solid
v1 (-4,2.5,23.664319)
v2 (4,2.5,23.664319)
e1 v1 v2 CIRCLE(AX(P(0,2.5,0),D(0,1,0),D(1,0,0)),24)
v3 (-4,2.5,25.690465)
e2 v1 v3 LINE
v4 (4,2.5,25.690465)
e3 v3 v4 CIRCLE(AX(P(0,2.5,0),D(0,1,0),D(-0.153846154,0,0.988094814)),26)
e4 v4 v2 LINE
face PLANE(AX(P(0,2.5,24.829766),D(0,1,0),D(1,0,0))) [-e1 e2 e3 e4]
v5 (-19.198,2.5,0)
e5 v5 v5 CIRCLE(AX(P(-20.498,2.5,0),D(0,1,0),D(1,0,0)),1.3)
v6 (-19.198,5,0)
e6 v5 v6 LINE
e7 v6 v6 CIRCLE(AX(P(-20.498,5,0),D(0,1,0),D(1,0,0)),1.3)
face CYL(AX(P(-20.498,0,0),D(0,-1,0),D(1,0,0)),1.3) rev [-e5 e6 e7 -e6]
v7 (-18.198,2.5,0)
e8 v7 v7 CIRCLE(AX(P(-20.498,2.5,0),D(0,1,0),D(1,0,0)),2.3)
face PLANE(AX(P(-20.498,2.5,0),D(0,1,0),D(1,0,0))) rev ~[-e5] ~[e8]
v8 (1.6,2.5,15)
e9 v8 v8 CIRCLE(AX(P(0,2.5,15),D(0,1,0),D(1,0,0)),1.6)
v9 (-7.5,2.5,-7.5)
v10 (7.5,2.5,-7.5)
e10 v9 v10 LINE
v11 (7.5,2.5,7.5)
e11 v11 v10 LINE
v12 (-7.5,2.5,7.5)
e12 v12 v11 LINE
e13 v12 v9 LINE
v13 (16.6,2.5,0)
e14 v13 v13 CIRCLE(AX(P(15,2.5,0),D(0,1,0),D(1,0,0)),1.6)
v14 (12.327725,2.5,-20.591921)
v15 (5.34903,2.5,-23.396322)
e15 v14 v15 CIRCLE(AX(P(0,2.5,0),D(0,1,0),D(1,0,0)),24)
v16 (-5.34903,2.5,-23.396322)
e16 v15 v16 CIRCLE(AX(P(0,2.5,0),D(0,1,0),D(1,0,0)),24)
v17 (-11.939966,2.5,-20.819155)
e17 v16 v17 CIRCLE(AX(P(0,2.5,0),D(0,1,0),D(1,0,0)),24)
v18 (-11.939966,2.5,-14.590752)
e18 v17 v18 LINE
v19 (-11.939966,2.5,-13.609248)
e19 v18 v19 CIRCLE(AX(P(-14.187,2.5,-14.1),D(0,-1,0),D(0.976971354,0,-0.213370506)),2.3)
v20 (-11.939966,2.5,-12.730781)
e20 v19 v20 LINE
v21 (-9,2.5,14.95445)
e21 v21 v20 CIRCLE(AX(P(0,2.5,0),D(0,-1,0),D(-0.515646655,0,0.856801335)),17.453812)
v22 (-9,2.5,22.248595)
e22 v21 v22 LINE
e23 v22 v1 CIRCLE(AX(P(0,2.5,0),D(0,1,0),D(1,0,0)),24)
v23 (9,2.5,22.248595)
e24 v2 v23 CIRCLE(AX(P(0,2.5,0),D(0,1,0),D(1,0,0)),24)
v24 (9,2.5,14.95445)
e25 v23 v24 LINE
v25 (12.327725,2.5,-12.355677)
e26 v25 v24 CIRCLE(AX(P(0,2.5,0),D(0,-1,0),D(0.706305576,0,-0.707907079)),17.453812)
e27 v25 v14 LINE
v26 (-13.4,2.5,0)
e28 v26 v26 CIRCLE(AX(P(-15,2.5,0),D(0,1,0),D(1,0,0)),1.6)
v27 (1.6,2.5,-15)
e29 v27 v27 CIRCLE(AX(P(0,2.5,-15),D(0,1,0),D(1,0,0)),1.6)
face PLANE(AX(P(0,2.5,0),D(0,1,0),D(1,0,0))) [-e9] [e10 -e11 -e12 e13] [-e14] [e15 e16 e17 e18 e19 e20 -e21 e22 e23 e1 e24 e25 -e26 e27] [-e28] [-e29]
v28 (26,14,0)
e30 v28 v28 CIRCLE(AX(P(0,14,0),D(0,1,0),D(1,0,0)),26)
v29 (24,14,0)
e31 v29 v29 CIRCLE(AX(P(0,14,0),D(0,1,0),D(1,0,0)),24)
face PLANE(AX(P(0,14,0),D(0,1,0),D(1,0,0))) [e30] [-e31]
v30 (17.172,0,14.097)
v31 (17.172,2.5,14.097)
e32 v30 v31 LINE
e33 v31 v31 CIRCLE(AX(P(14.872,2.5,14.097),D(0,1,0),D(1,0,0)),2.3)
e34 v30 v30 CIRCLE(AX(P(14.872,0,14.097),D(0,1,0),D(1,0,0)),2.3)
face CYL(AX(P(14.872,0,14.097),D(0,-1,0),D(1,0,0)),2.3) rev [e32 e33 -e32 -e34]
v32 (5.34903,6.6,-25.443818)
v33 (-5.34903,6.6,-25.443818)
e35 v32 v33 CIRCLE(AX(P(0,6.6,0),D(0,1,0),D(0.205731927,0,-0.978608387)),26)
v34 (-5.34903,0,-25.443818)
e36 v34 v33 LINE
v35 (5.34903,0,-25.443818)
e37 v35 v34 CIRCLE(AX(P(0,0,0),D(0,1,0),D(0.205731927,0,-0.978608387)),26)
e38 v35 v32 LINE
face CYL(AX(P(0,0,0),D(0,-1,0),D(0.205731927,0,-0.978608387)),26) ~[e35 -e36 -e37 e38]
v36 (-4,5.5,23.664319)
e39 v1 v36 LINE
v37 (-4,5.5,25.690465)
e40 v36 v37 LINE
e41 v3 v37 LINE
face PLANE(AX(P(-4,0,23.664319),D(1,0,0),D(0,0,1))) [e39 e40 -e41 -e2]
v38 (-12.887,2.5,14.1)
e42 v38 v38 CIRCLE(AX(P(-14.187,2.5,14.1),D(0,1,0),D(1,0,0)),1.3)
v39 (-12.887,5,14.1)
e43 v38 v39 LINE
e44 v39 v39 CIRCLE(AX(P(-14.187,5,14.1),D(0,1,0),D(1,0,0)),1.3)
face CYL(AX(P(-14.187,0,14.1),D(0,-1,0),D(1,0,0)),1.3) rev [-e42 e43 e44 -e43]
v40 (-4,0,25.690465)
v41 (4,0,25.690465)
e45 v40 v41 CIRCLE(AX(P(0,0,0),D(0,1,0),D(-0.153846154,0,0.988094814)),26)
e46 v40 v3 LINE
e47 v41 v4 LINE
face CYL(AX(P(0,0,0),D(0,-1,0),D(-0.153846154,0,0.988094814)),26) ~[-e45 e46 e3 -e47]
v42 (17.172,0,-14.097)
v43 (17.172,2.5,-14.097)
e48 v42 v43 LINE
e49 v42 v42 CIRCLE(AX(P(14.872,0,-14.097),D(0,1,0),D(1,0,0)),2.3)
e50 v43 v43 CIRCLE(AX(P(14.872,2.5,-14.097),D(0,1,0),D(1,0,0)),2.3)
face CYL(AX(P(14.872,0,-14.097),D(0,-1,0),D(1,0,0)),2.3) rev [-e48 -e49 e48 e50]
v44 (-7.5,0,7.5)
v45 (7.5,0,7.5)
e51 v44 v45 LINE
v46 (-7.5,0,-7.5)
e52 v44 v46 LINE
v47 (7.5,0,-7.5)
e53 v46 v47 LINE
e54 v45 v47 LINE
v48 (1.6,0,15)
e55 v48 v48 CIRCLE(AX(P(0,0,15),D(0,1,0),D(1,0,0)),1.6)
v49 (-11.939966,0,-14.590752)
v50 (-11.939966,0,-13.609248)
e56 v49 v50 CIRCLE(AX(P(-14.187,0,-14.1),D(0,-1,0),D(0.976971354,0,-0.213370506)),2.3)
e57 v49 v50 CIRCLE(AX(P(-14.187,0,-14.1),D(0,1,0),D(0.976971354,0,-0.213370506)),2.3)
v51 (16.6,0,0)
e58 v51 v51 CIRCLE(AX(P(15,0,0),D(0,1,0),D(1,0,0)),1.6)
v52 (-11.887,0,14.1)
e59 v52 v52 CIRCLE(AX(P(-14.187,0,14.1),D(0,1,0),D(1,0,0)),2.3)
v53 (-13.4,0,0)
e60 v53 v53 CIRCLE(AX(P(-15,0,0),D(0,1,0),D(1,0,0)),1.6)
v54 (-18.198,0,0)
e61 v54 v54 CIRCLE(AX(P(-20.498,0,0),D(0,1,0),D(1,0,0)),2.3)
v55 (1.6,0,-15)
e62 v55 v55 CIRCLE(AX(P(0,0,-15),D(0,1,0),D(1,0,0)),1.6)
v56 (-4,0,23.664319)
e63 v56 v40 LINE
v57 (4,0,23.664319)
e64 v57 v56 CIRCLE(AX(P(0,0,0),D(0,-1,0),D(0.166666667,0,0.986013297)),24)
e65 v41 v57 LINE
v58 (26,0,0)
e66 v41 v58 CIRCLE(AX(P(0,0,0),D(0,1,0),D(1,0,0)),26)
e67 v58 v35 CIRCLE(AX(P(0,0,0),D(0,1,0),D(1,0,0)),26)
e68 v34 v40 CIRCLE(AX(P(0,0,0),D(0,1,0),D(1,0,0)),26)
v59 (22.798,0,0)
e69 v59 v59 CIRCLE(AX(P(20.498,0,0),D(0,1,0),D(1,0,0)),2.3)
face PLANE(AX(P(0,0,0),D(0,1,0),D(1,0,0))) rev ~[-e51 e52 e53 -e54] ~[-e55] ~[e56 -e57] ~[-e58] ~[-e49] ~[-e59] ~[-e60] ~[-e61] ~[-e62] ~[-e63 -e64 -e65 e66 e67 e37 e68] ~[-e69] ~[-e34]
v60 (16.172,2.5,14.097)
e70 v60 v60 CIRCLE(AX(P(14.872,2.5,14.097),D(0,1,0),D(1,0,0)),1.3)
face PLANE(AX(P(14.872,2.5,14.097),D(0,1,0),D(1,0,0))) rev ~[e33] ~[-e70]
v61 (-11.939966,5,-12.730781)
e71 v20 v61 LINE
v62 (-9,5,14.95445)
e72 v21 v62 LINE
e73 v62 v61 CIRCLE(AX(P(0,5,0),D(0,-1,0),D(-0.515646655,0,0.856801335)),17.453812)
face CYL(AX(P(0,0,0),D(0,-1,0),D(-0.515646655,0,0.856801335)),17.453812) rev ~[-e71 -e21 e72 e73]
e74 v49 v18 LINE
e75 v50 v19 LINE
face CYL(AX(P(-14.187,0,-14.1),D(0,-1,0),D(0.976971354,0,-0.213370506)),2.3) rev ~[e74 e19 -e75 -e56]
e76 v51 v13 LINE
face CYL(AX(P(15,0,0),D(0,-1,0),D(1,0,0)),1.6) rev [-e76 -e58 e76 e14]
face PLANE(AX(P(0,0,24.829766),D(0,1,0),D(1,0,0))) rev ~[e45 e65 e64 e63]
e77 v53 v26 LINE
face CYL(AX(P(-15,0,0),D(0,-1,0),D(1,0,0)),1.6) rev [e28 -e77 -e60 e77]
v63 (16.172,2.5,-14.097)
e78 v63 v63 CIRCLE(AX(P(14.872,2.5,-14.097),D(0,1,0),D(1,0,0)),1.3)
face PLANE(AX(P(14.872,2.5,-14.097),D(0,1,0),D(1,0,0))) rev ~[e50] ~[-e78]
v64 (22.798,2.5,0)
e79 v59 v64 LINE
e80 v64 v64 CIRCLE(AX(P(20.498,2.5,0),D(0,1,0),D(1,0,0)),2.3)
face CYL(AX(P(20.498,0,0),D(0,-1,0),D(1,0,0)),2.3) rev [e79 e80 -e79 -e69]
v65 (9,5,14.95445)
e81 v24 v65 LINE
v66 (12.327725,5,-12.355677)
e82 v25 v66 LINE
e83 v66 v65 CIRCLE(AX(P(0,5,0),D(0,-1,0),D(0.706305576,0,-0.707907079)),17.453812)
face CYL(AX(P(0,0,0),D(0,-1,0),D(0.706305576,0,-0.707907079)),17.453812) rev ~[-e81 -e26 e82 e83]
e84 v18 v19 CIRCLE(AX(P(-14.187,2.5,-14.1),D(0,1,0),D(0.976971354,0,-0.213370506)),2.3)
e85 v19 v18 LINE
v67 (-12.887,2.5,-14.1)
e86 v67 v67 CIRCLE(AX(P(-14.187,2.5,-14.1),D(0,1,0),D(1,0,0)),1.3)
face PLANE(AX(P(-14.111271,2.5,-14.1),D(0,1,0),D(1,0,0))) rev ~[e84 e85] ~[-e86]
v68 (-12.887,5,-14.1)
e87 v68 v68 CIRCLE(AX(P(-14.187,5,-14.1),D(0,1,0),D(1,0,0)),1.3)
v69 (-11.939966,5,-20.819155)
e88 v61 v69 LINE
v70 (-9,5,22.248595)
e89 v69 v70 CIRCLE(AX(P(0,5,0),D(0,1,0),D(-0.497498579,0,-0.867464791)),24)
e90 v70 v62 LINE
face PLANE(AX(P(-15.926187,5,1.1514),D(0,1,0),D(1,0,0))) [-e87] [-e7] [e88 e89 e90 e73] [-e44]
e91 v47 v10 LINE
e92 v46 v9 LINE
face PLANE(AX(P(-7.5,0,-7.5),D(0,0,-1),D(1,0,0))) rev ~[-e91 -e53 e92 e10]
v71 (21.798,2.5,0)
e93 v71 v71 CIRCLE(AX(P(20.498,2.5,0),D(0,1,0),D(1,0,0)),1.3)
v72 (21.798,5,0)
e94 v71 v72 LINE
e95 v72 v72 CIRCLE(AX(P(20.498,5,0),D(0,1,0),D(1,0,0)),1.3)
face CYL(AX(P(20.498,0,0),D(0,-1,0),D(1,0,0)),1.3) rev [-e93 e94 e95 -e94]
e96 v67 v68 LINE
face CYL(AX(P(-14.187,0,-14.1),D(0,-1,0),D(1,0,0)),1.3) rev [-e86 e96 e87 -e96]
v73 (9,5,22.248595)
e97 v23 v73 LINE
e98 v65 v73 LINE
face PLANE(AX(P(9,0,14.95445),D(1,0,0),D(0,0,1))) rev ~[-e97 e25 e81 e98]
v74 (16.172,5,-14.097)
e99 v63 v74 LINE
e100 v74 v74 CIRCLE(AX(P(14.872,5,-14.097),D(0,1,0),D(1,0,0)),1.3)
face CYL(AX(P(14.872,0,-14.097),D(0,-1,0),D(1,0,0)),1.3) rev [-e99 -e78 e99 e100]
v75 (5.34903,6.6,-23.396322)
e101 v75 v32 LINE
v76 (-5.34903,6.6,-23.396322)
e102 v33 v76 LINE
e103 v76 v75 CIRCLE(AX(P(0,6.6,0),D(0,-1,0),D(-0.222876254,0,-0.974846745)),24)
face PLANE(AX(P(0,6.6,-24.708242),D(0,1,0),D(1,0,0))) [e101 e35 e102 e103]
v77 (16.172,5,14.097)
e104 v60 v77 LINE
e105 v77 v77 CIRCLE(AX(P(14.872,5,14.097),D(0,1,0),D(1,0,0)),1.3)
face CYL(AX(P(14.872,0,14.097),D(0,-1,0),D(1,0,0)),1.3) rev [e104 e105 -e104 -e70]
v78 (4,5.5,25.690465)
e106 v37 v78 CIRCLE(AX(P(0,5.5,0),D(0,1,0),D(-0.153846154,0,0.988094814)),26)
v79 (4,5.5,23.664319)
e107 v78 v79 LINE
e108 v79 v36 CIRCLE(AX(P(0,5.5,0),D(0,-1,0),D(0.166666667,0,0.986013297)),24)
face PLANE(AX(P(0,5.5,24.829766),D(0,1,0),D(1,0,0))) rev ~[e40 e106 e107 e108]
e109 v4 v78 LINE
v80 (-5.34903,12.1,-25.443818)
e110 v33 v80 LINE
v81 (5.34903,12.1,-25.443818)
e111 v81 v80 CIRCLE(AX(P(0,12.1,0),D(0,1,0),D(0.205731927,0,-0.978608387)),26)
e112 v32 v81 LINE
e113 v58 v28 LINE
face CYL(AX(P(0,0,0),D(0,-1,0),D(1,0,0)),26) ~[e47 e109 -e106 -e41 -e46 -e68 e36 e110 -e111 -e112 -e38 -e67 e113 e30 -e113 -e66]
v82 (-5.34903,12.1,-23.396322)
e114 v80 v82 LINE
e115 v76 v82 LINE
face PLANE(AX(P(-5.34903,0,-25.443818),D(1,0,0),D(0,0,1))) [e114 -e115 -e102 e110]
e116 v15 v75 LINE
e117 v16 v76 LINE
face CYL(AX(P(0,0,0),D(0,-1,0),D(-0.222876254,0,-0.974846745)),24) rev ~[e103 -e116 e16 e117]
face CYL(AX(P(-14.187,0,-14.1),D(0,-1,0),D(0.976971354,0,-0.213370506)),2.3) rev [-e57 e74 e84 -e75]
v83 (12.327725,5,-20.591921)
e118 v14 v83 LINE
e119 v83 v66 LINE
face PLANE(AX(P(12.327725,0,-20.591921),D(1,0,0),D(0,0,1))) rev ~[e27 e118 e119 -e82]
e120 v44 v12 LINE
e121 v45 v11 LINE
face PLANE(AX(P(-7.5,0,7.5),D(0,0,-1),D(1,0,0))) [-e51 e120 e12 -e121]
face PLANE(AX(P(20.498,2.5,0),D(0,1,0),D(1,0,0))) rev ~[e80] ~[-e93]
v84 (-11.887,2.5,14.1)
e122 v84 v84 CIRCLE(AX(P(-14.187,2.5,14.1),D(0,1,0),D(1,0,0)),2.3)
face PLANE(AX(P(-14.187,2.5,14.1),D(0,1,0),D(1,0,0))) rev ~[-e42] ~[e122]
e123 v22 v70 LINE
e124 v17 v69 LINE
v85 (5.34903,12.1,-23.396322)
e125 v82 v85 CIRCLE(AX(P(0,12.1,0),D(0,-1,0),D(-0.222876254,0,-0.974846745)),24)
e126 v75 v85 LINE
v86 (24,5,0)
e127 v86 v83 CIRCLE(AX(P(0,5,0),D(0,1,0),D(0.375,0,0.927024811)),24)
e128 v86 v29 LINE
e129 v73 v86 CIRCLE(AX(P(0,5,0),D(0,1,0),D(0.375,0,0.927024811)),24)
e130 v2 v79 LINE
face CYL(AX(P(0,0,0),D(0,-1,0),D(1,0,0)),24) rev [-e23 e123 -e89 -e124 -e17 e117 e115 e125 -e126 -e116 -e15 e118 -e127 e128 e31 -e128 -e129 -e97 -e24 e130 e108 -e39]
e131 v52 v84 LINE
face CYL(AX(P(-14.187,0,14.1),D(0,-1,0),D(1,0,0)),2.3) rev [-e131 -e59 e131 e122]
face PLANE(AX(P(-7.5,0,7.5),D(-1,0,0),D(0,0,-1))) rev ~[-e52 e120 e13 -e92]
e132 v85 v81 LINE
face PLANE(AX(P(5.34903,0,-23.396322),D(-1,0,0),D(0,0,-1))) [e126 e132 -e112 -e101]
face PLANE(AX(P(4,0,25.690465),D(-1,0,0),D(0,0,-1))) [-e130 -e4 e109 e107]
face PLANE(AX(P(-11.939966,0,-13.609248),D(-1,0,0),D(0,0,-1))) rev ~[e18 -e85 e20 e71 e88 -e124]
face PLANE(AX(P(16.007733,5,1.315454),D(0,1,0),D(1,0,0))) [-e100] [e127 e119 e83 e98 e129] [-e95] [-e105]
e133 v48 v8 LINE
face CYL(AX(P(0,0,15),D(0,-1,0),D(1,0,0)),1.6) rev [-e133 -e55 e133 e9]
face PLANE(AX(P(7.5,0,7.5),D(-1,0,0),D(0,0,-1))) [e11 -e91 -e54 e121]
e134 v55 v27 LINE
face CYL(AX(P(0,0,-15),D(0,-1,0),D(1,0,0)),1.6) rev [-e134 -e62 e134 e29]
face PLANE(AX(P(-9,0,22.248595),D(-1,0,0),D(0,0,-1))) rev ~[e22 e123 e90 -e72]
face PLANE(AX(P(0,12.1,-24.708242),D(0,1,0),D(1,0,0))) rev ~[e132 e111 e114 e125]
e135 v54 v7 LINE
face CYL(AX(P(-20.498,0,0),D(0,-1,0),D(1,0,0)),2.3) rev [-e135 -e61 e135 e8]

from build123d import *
from build123d.topology import SkipClean

# Parameters (mm, degrees)
SKETCH_1_R          = 24
SKETCH_1_R_2        = 1.6
SKETCH_1_W          = 15
SKETCH_1_H          = 15
SKETCH_1_R_3        = 1.3
EXTRUDE_1_DEPTH     = 2.5
SKETCH_1_4_R        = 26
SKETCH_1_4_R_2      = 24
EXTRUDE_2_DEPTH     = 14
SKETCH_1_6_R        = 1.3
EXTRUDE_4_DEPTH     = 5
CUT_EXTRUDE_1_DEPTH = 12.1
EXTRUDE_5_DEPTH     = 6.6
SKETCH_1_11_R       = 1.3
SKETCH_1_11_R_2     = 2.3
CUT_EXTRUDE_2_DEPTH = 2.5
CUT_EXTRUDE_5_DEPTH = 5.5
EXTRUDE_6_DEPTH     = 2.5


with BuildPart() as part:
    # 草图1 → 凸台-拉伸1 (new body)
    with BuildSketch(Plane(origin=(0, 0, 0), x_dir=(1, 0, 0), z_dir=(0, 1, 0))):
        Circle(SKETCH_1_R)
        with BuildLine():
            Line((-11.939965885, 13.609247836), (-11.939965885, 14.590752164))
            ThreePointArc((-11.939965885, 14.590752164), (-11.887, 14.1), (-11.939965885, 13.609247836))
        make_face(mode=Mode.SUBTRACT)
        with Locations((0, -15)):
            Circle(SKETCH_1_R_2, mode=Mode.SUBTRACT)
        with Locations((-15, 0)):
            Circle(SKETCH_1_R_2, mode=Mode.SUBTRACT)
        Rectangle(SKETCH_1_W, SKETCH_1_H, mode=Mode.SUBTRACT)
        with Locations((15, 0)):
            Circle(SKETCH_1_R_2, mode=Mode.SUBTRACT)
        with Locations((0, 15)):
            Circle(SKETCH_1_R_2, mode=Mode.SUBTRACT)
        with Locations((20.498, 0)):
            Circle(SKETCH_1_R_3, mode=Mode.SUBTRACT)
        with Locations((14.872, 14.097)):
            Circle(SKETCH_1_R_3, mode=Mode.SUBTRACT)
        with Locations((14.872, -14.097)):
            Circle(SKETCH_1_R_3, mode=Mode.SUBTRACT)
        with Locations((-14.187, -14.1)):
            Circle(SKETCH_1_R_3, mode=Mode.SUBTRACT)
        with Locations((-20.498, 0)):
            Circle(SKETCH_1_R_3, mode=Mode.SUBTRACT)
        with Locations((-14.187, 14.1)):
            Circle(SKETCH_1_R_3, mode=Mode.SUBTRACT)
    extrude(amount=EXTRUDE_1_DEPTH)

    # 草图1<4> → 凸台-拉伸2 (add)
    with BuildSketch(Plane(origin=(0, 0, 0), x_dir=(1, 0, 0), z_dir=(0, 1, 0))):
        Circle(SKETCH_1_4_R)
        Circle(SKETCH_1_4_R_2, mode=Mode.SUBTRACT)
    extrude(amount=EXTRUDE_2_DEPTH)

    # 草图1<6> → 凸台-拉伸4 (add)
    # profile 1 of 2: a face of its own
    with BuildSketch(Plane(origin=(0, 0, 0), x_dir=(1, 0, 0), z_dir=(0, 1, 0))):
        with BuildLine():
            Line((12.327725044, 20.59192063), (12.327725044, 12.355677376))
            ThreePointArc((12.327725044, 12.355677376), (17.325666659, -2.111123633), (9, -14.954449778))
            Line((9, -14.954449778), (9, -22.248595461))
            ThreePointArc((9, -22.248595461), (23.927921319, -1.858650415), (12.327725044, 20.59192063))
        make_face()
        with Locations((14.872, -14.097)):
            Circle(SKETCH_1_6_R, mode=Mode.SUBTRACT)
        with Locations((20.498, 0)):
            Circle(SKETCH_1_6_R, mode=Mode.SUBTRACT)
        with Locations((14.872, 14.097)):
            Circle(SKETCH_1_6_R, mode=Mode.SUBTRACT)
    # profile 2 of 2: a face of its own
    with BuildSketch(Plane(origin=(0, 0, 0), x_dir=(1, 0, 0), z_dir=(0, 1, 0))):
        with BuildLine():
            Line((-9, -22.248595461), (-9, -14.954449778))
            ThreePointArc((-9, -14.954449778), (-17.356224893, -1.843102181), (-11.939965885, 12.73078092))
            Line((-11.939965885, 12.73078092), (-11.939965885, 20.819154994))
            ThreePointArc((-11.939965885, 20.819154994), (-23.944275415, -1.634525883), (-9, -22.248595461))
        make_face()
        with Locations((-14.187, 14.1)):
            Circle(SKETCH_1_6_R, mode=Mode.SUBTRACT)
        with Locations((-14.187, -14.1)):
            Circle(SKETCH_1_6_R, mode=Mode.SUBTRACT)
        with Locations((-20.498, 0)):
            Circle(SKETCH_1_6_R, mode=Mode.SUBTRACT)
    extrude(amount=EXTRUDE_4_DEPTH)

    # 草图1<8> → 切除-拉伸1 (cut)
    with BuildSketch(Plane(origin=(0, 0, 0), x_dir=(1, 0, 0), z_dir=(0, 1, 0))):
        with BuildLine():
            ThreePointArc((-5.3490301, 23.396321869), (0, 24), (5.3490301, 23.396321869))
            Line((5.3490301, 23.396321869), (5.3490301, 25.44381805))
            ThreePointArc((5.3490301, 25.44381805), (0, 26), (-5.3490301, 25.44381805))
            Line((-5.3490301, 25.44381805), (-5.3490301, 23.396321869))
        make_face()
    extrude(amount=CUT_EXTRUDE_1_DEPTH, mode=Mode.SUBTRACT)

    # 草图1<9> → 凸台-拉伸5 (add)
    with BuildSketch(Plane(origin=(0, 0, 0), x_dir=(1, 0, 0), z_dir=(0, 1, 0))):
        with BuildLine():
            ThreePointArc((-5.3490301, 23.396321869), (0, 24), (5.3490301, 23.396321869))
            Line((5.3490301, 23.396321869), (5.3490301, 25.44381805))
            ThreePointArc((5.3490301, 25.44381805), (0, 26), (-5.3490301, 25.44381805))
            Line((-5.3490301, 25.44381805), (-5.3490301, 23.396321869))
        make_face()
    extrude(amount=EXTRUDE_5_DEPTH)

    # 草图1<11> → 切除-拉伸2 (cut)
    # profile 1 of 6: a face of its own
    with SkipClean():  # the faces are left unmerged after this step: merging them gives an invalid solid
        with BuildSketch(Plane(origin=(0, 0, 0), x_dir=(1, 0, 0), z_dir=(0, 1, 0))):
            with BuildLine():
                ThreePointArc((-11.939965885, 14.590752164), (-16.487, 14.1), (-11.939965885, 13.609247836))
                Line((-11.939965885, 13.609247836), (-11.939965885, 14.590752164))
            make_face()
            with Locations((-14.187, 14.1)):
                Circle(SKETCH_1_11_R, mode=Mode.SUBTRACT)
        # profile 2 of 6: a face of its own
        with BuildSketch(Plane(origin=(0, 0, 0), x_dir=(1, 0, 0), z_dir=(0, 1, 0))):
            with Locations((-20.498, 0)):
                Circle(SKETCH_1_11_R_2)
            with Locations((-20.498, 0)):
                Circle(SKETCH_1_11_R, mode=Mode.SUBTRACT)
        # profile 3 of 6: a face of its own
        with BuildSketch(Plane(origin=(0, 0, 0), x_dir=(1, 0, 0), z_dir=(0, 1, 0))):
            with Locations((-14.187, -14.1)):
                Circle(SKETCH_1_11_R_2)
            with Locations((-14.187, -14.1)):
                Circle(SKETCH_1_11_R, mode=Mode.SUBTRACT)
        # profile 4 of 6: a face of its own
        with BuildSketch(Plane(origin=(0, 0, 0), x_dir=(1, 0, 0), z_dir=(0, 1, 0))):
            with Locations((14.872, -14.097)):
                Circle(SKETCH_1_11_R_2)
            with Locations((14.872, -14.097)):
                Circle(SKETCH_1_11_R, mode=Mode.SUBTRACT)
        # profile 5 of 6: a face of its own
        with BuildSketch(Plane(origin=(0, 0, 0), x_dir=(1, 0, 0), z_dir=(0, 1, 0))):
            with Locations((20.498, 0)):
                Circle(SKETCH_1_11_R_2)
            with Locations((20.498, 0)):
                Circle(SKETCH_1_11_R, mode=Mode.SUBTRACT)
        # profile 6 of 6: a face of its own
        with BuildSketch(Plane(origin=(0, 0, 0), x_dir=(1, 0, 0), z_dir=(0, 1, 0))):
            with Locations((14.872, 14.097)):
                Circle(SKETCH_1_11_R_2)
            with Locations((14.872, 14.097)):
                Circle(SKETCH_1_11_R, mode=Mode.SUBTRACT)
        extrude(amount=CUT_EXTRUDE_2_DEPTH, mode=Mode.SUBTRACT)

    # 草图1<12> → 切除-拉伸5 (cut)
    with SkipClean():  # the faces are left unmerged after this step: merging them gives an invalid solid
        with BuildSketch(Plane(origin=(0, 0, 0), x_dir=(1, 0, 0), z_dir=(0, 1, 0))):
            with BuildLine():
                Line((4, -25.690465157), (4, -23.664319132))
                ThreePointArc((4, -23.664319132), (0, -24), (-4, -23.664319132))
                Line((-4, -23.664319132), (-4, -25.690465157))
                ThreePointArc((-4, -25.690465157), (0, -26), (4, -25.690465157))
            make_face()
        extrude(amount=CUT_EXTRUDE_5_DEPTH, mode=Mode.SUBTRACT)

    # 草图1<13> → 凸台-拉伸6 (add)
    with SkipClean():  # the faces are left unmerged after this step: merging them gives an invalid solid
        with BuildSketch(Plane(origin=(0, 0, 0), x_dir=(1, 0, 0), z_dir=(0, 1, 0))):
            with BuildLine():
                Line((4, -25.690465157), (4, -23.664319132))
                ThreePointArc((4, -23.664319132), (0, -24), (-4, -23.664319132))
                Line((-4, -23.664319132), (-4, -25.690465157))
                ThreePointArc((-4, -25.690465157), (0, -26), (4, -25.690465157))
            make_face()
        extrude(amount=EXTRUDE_6_DEPTH)


solid = part.part
